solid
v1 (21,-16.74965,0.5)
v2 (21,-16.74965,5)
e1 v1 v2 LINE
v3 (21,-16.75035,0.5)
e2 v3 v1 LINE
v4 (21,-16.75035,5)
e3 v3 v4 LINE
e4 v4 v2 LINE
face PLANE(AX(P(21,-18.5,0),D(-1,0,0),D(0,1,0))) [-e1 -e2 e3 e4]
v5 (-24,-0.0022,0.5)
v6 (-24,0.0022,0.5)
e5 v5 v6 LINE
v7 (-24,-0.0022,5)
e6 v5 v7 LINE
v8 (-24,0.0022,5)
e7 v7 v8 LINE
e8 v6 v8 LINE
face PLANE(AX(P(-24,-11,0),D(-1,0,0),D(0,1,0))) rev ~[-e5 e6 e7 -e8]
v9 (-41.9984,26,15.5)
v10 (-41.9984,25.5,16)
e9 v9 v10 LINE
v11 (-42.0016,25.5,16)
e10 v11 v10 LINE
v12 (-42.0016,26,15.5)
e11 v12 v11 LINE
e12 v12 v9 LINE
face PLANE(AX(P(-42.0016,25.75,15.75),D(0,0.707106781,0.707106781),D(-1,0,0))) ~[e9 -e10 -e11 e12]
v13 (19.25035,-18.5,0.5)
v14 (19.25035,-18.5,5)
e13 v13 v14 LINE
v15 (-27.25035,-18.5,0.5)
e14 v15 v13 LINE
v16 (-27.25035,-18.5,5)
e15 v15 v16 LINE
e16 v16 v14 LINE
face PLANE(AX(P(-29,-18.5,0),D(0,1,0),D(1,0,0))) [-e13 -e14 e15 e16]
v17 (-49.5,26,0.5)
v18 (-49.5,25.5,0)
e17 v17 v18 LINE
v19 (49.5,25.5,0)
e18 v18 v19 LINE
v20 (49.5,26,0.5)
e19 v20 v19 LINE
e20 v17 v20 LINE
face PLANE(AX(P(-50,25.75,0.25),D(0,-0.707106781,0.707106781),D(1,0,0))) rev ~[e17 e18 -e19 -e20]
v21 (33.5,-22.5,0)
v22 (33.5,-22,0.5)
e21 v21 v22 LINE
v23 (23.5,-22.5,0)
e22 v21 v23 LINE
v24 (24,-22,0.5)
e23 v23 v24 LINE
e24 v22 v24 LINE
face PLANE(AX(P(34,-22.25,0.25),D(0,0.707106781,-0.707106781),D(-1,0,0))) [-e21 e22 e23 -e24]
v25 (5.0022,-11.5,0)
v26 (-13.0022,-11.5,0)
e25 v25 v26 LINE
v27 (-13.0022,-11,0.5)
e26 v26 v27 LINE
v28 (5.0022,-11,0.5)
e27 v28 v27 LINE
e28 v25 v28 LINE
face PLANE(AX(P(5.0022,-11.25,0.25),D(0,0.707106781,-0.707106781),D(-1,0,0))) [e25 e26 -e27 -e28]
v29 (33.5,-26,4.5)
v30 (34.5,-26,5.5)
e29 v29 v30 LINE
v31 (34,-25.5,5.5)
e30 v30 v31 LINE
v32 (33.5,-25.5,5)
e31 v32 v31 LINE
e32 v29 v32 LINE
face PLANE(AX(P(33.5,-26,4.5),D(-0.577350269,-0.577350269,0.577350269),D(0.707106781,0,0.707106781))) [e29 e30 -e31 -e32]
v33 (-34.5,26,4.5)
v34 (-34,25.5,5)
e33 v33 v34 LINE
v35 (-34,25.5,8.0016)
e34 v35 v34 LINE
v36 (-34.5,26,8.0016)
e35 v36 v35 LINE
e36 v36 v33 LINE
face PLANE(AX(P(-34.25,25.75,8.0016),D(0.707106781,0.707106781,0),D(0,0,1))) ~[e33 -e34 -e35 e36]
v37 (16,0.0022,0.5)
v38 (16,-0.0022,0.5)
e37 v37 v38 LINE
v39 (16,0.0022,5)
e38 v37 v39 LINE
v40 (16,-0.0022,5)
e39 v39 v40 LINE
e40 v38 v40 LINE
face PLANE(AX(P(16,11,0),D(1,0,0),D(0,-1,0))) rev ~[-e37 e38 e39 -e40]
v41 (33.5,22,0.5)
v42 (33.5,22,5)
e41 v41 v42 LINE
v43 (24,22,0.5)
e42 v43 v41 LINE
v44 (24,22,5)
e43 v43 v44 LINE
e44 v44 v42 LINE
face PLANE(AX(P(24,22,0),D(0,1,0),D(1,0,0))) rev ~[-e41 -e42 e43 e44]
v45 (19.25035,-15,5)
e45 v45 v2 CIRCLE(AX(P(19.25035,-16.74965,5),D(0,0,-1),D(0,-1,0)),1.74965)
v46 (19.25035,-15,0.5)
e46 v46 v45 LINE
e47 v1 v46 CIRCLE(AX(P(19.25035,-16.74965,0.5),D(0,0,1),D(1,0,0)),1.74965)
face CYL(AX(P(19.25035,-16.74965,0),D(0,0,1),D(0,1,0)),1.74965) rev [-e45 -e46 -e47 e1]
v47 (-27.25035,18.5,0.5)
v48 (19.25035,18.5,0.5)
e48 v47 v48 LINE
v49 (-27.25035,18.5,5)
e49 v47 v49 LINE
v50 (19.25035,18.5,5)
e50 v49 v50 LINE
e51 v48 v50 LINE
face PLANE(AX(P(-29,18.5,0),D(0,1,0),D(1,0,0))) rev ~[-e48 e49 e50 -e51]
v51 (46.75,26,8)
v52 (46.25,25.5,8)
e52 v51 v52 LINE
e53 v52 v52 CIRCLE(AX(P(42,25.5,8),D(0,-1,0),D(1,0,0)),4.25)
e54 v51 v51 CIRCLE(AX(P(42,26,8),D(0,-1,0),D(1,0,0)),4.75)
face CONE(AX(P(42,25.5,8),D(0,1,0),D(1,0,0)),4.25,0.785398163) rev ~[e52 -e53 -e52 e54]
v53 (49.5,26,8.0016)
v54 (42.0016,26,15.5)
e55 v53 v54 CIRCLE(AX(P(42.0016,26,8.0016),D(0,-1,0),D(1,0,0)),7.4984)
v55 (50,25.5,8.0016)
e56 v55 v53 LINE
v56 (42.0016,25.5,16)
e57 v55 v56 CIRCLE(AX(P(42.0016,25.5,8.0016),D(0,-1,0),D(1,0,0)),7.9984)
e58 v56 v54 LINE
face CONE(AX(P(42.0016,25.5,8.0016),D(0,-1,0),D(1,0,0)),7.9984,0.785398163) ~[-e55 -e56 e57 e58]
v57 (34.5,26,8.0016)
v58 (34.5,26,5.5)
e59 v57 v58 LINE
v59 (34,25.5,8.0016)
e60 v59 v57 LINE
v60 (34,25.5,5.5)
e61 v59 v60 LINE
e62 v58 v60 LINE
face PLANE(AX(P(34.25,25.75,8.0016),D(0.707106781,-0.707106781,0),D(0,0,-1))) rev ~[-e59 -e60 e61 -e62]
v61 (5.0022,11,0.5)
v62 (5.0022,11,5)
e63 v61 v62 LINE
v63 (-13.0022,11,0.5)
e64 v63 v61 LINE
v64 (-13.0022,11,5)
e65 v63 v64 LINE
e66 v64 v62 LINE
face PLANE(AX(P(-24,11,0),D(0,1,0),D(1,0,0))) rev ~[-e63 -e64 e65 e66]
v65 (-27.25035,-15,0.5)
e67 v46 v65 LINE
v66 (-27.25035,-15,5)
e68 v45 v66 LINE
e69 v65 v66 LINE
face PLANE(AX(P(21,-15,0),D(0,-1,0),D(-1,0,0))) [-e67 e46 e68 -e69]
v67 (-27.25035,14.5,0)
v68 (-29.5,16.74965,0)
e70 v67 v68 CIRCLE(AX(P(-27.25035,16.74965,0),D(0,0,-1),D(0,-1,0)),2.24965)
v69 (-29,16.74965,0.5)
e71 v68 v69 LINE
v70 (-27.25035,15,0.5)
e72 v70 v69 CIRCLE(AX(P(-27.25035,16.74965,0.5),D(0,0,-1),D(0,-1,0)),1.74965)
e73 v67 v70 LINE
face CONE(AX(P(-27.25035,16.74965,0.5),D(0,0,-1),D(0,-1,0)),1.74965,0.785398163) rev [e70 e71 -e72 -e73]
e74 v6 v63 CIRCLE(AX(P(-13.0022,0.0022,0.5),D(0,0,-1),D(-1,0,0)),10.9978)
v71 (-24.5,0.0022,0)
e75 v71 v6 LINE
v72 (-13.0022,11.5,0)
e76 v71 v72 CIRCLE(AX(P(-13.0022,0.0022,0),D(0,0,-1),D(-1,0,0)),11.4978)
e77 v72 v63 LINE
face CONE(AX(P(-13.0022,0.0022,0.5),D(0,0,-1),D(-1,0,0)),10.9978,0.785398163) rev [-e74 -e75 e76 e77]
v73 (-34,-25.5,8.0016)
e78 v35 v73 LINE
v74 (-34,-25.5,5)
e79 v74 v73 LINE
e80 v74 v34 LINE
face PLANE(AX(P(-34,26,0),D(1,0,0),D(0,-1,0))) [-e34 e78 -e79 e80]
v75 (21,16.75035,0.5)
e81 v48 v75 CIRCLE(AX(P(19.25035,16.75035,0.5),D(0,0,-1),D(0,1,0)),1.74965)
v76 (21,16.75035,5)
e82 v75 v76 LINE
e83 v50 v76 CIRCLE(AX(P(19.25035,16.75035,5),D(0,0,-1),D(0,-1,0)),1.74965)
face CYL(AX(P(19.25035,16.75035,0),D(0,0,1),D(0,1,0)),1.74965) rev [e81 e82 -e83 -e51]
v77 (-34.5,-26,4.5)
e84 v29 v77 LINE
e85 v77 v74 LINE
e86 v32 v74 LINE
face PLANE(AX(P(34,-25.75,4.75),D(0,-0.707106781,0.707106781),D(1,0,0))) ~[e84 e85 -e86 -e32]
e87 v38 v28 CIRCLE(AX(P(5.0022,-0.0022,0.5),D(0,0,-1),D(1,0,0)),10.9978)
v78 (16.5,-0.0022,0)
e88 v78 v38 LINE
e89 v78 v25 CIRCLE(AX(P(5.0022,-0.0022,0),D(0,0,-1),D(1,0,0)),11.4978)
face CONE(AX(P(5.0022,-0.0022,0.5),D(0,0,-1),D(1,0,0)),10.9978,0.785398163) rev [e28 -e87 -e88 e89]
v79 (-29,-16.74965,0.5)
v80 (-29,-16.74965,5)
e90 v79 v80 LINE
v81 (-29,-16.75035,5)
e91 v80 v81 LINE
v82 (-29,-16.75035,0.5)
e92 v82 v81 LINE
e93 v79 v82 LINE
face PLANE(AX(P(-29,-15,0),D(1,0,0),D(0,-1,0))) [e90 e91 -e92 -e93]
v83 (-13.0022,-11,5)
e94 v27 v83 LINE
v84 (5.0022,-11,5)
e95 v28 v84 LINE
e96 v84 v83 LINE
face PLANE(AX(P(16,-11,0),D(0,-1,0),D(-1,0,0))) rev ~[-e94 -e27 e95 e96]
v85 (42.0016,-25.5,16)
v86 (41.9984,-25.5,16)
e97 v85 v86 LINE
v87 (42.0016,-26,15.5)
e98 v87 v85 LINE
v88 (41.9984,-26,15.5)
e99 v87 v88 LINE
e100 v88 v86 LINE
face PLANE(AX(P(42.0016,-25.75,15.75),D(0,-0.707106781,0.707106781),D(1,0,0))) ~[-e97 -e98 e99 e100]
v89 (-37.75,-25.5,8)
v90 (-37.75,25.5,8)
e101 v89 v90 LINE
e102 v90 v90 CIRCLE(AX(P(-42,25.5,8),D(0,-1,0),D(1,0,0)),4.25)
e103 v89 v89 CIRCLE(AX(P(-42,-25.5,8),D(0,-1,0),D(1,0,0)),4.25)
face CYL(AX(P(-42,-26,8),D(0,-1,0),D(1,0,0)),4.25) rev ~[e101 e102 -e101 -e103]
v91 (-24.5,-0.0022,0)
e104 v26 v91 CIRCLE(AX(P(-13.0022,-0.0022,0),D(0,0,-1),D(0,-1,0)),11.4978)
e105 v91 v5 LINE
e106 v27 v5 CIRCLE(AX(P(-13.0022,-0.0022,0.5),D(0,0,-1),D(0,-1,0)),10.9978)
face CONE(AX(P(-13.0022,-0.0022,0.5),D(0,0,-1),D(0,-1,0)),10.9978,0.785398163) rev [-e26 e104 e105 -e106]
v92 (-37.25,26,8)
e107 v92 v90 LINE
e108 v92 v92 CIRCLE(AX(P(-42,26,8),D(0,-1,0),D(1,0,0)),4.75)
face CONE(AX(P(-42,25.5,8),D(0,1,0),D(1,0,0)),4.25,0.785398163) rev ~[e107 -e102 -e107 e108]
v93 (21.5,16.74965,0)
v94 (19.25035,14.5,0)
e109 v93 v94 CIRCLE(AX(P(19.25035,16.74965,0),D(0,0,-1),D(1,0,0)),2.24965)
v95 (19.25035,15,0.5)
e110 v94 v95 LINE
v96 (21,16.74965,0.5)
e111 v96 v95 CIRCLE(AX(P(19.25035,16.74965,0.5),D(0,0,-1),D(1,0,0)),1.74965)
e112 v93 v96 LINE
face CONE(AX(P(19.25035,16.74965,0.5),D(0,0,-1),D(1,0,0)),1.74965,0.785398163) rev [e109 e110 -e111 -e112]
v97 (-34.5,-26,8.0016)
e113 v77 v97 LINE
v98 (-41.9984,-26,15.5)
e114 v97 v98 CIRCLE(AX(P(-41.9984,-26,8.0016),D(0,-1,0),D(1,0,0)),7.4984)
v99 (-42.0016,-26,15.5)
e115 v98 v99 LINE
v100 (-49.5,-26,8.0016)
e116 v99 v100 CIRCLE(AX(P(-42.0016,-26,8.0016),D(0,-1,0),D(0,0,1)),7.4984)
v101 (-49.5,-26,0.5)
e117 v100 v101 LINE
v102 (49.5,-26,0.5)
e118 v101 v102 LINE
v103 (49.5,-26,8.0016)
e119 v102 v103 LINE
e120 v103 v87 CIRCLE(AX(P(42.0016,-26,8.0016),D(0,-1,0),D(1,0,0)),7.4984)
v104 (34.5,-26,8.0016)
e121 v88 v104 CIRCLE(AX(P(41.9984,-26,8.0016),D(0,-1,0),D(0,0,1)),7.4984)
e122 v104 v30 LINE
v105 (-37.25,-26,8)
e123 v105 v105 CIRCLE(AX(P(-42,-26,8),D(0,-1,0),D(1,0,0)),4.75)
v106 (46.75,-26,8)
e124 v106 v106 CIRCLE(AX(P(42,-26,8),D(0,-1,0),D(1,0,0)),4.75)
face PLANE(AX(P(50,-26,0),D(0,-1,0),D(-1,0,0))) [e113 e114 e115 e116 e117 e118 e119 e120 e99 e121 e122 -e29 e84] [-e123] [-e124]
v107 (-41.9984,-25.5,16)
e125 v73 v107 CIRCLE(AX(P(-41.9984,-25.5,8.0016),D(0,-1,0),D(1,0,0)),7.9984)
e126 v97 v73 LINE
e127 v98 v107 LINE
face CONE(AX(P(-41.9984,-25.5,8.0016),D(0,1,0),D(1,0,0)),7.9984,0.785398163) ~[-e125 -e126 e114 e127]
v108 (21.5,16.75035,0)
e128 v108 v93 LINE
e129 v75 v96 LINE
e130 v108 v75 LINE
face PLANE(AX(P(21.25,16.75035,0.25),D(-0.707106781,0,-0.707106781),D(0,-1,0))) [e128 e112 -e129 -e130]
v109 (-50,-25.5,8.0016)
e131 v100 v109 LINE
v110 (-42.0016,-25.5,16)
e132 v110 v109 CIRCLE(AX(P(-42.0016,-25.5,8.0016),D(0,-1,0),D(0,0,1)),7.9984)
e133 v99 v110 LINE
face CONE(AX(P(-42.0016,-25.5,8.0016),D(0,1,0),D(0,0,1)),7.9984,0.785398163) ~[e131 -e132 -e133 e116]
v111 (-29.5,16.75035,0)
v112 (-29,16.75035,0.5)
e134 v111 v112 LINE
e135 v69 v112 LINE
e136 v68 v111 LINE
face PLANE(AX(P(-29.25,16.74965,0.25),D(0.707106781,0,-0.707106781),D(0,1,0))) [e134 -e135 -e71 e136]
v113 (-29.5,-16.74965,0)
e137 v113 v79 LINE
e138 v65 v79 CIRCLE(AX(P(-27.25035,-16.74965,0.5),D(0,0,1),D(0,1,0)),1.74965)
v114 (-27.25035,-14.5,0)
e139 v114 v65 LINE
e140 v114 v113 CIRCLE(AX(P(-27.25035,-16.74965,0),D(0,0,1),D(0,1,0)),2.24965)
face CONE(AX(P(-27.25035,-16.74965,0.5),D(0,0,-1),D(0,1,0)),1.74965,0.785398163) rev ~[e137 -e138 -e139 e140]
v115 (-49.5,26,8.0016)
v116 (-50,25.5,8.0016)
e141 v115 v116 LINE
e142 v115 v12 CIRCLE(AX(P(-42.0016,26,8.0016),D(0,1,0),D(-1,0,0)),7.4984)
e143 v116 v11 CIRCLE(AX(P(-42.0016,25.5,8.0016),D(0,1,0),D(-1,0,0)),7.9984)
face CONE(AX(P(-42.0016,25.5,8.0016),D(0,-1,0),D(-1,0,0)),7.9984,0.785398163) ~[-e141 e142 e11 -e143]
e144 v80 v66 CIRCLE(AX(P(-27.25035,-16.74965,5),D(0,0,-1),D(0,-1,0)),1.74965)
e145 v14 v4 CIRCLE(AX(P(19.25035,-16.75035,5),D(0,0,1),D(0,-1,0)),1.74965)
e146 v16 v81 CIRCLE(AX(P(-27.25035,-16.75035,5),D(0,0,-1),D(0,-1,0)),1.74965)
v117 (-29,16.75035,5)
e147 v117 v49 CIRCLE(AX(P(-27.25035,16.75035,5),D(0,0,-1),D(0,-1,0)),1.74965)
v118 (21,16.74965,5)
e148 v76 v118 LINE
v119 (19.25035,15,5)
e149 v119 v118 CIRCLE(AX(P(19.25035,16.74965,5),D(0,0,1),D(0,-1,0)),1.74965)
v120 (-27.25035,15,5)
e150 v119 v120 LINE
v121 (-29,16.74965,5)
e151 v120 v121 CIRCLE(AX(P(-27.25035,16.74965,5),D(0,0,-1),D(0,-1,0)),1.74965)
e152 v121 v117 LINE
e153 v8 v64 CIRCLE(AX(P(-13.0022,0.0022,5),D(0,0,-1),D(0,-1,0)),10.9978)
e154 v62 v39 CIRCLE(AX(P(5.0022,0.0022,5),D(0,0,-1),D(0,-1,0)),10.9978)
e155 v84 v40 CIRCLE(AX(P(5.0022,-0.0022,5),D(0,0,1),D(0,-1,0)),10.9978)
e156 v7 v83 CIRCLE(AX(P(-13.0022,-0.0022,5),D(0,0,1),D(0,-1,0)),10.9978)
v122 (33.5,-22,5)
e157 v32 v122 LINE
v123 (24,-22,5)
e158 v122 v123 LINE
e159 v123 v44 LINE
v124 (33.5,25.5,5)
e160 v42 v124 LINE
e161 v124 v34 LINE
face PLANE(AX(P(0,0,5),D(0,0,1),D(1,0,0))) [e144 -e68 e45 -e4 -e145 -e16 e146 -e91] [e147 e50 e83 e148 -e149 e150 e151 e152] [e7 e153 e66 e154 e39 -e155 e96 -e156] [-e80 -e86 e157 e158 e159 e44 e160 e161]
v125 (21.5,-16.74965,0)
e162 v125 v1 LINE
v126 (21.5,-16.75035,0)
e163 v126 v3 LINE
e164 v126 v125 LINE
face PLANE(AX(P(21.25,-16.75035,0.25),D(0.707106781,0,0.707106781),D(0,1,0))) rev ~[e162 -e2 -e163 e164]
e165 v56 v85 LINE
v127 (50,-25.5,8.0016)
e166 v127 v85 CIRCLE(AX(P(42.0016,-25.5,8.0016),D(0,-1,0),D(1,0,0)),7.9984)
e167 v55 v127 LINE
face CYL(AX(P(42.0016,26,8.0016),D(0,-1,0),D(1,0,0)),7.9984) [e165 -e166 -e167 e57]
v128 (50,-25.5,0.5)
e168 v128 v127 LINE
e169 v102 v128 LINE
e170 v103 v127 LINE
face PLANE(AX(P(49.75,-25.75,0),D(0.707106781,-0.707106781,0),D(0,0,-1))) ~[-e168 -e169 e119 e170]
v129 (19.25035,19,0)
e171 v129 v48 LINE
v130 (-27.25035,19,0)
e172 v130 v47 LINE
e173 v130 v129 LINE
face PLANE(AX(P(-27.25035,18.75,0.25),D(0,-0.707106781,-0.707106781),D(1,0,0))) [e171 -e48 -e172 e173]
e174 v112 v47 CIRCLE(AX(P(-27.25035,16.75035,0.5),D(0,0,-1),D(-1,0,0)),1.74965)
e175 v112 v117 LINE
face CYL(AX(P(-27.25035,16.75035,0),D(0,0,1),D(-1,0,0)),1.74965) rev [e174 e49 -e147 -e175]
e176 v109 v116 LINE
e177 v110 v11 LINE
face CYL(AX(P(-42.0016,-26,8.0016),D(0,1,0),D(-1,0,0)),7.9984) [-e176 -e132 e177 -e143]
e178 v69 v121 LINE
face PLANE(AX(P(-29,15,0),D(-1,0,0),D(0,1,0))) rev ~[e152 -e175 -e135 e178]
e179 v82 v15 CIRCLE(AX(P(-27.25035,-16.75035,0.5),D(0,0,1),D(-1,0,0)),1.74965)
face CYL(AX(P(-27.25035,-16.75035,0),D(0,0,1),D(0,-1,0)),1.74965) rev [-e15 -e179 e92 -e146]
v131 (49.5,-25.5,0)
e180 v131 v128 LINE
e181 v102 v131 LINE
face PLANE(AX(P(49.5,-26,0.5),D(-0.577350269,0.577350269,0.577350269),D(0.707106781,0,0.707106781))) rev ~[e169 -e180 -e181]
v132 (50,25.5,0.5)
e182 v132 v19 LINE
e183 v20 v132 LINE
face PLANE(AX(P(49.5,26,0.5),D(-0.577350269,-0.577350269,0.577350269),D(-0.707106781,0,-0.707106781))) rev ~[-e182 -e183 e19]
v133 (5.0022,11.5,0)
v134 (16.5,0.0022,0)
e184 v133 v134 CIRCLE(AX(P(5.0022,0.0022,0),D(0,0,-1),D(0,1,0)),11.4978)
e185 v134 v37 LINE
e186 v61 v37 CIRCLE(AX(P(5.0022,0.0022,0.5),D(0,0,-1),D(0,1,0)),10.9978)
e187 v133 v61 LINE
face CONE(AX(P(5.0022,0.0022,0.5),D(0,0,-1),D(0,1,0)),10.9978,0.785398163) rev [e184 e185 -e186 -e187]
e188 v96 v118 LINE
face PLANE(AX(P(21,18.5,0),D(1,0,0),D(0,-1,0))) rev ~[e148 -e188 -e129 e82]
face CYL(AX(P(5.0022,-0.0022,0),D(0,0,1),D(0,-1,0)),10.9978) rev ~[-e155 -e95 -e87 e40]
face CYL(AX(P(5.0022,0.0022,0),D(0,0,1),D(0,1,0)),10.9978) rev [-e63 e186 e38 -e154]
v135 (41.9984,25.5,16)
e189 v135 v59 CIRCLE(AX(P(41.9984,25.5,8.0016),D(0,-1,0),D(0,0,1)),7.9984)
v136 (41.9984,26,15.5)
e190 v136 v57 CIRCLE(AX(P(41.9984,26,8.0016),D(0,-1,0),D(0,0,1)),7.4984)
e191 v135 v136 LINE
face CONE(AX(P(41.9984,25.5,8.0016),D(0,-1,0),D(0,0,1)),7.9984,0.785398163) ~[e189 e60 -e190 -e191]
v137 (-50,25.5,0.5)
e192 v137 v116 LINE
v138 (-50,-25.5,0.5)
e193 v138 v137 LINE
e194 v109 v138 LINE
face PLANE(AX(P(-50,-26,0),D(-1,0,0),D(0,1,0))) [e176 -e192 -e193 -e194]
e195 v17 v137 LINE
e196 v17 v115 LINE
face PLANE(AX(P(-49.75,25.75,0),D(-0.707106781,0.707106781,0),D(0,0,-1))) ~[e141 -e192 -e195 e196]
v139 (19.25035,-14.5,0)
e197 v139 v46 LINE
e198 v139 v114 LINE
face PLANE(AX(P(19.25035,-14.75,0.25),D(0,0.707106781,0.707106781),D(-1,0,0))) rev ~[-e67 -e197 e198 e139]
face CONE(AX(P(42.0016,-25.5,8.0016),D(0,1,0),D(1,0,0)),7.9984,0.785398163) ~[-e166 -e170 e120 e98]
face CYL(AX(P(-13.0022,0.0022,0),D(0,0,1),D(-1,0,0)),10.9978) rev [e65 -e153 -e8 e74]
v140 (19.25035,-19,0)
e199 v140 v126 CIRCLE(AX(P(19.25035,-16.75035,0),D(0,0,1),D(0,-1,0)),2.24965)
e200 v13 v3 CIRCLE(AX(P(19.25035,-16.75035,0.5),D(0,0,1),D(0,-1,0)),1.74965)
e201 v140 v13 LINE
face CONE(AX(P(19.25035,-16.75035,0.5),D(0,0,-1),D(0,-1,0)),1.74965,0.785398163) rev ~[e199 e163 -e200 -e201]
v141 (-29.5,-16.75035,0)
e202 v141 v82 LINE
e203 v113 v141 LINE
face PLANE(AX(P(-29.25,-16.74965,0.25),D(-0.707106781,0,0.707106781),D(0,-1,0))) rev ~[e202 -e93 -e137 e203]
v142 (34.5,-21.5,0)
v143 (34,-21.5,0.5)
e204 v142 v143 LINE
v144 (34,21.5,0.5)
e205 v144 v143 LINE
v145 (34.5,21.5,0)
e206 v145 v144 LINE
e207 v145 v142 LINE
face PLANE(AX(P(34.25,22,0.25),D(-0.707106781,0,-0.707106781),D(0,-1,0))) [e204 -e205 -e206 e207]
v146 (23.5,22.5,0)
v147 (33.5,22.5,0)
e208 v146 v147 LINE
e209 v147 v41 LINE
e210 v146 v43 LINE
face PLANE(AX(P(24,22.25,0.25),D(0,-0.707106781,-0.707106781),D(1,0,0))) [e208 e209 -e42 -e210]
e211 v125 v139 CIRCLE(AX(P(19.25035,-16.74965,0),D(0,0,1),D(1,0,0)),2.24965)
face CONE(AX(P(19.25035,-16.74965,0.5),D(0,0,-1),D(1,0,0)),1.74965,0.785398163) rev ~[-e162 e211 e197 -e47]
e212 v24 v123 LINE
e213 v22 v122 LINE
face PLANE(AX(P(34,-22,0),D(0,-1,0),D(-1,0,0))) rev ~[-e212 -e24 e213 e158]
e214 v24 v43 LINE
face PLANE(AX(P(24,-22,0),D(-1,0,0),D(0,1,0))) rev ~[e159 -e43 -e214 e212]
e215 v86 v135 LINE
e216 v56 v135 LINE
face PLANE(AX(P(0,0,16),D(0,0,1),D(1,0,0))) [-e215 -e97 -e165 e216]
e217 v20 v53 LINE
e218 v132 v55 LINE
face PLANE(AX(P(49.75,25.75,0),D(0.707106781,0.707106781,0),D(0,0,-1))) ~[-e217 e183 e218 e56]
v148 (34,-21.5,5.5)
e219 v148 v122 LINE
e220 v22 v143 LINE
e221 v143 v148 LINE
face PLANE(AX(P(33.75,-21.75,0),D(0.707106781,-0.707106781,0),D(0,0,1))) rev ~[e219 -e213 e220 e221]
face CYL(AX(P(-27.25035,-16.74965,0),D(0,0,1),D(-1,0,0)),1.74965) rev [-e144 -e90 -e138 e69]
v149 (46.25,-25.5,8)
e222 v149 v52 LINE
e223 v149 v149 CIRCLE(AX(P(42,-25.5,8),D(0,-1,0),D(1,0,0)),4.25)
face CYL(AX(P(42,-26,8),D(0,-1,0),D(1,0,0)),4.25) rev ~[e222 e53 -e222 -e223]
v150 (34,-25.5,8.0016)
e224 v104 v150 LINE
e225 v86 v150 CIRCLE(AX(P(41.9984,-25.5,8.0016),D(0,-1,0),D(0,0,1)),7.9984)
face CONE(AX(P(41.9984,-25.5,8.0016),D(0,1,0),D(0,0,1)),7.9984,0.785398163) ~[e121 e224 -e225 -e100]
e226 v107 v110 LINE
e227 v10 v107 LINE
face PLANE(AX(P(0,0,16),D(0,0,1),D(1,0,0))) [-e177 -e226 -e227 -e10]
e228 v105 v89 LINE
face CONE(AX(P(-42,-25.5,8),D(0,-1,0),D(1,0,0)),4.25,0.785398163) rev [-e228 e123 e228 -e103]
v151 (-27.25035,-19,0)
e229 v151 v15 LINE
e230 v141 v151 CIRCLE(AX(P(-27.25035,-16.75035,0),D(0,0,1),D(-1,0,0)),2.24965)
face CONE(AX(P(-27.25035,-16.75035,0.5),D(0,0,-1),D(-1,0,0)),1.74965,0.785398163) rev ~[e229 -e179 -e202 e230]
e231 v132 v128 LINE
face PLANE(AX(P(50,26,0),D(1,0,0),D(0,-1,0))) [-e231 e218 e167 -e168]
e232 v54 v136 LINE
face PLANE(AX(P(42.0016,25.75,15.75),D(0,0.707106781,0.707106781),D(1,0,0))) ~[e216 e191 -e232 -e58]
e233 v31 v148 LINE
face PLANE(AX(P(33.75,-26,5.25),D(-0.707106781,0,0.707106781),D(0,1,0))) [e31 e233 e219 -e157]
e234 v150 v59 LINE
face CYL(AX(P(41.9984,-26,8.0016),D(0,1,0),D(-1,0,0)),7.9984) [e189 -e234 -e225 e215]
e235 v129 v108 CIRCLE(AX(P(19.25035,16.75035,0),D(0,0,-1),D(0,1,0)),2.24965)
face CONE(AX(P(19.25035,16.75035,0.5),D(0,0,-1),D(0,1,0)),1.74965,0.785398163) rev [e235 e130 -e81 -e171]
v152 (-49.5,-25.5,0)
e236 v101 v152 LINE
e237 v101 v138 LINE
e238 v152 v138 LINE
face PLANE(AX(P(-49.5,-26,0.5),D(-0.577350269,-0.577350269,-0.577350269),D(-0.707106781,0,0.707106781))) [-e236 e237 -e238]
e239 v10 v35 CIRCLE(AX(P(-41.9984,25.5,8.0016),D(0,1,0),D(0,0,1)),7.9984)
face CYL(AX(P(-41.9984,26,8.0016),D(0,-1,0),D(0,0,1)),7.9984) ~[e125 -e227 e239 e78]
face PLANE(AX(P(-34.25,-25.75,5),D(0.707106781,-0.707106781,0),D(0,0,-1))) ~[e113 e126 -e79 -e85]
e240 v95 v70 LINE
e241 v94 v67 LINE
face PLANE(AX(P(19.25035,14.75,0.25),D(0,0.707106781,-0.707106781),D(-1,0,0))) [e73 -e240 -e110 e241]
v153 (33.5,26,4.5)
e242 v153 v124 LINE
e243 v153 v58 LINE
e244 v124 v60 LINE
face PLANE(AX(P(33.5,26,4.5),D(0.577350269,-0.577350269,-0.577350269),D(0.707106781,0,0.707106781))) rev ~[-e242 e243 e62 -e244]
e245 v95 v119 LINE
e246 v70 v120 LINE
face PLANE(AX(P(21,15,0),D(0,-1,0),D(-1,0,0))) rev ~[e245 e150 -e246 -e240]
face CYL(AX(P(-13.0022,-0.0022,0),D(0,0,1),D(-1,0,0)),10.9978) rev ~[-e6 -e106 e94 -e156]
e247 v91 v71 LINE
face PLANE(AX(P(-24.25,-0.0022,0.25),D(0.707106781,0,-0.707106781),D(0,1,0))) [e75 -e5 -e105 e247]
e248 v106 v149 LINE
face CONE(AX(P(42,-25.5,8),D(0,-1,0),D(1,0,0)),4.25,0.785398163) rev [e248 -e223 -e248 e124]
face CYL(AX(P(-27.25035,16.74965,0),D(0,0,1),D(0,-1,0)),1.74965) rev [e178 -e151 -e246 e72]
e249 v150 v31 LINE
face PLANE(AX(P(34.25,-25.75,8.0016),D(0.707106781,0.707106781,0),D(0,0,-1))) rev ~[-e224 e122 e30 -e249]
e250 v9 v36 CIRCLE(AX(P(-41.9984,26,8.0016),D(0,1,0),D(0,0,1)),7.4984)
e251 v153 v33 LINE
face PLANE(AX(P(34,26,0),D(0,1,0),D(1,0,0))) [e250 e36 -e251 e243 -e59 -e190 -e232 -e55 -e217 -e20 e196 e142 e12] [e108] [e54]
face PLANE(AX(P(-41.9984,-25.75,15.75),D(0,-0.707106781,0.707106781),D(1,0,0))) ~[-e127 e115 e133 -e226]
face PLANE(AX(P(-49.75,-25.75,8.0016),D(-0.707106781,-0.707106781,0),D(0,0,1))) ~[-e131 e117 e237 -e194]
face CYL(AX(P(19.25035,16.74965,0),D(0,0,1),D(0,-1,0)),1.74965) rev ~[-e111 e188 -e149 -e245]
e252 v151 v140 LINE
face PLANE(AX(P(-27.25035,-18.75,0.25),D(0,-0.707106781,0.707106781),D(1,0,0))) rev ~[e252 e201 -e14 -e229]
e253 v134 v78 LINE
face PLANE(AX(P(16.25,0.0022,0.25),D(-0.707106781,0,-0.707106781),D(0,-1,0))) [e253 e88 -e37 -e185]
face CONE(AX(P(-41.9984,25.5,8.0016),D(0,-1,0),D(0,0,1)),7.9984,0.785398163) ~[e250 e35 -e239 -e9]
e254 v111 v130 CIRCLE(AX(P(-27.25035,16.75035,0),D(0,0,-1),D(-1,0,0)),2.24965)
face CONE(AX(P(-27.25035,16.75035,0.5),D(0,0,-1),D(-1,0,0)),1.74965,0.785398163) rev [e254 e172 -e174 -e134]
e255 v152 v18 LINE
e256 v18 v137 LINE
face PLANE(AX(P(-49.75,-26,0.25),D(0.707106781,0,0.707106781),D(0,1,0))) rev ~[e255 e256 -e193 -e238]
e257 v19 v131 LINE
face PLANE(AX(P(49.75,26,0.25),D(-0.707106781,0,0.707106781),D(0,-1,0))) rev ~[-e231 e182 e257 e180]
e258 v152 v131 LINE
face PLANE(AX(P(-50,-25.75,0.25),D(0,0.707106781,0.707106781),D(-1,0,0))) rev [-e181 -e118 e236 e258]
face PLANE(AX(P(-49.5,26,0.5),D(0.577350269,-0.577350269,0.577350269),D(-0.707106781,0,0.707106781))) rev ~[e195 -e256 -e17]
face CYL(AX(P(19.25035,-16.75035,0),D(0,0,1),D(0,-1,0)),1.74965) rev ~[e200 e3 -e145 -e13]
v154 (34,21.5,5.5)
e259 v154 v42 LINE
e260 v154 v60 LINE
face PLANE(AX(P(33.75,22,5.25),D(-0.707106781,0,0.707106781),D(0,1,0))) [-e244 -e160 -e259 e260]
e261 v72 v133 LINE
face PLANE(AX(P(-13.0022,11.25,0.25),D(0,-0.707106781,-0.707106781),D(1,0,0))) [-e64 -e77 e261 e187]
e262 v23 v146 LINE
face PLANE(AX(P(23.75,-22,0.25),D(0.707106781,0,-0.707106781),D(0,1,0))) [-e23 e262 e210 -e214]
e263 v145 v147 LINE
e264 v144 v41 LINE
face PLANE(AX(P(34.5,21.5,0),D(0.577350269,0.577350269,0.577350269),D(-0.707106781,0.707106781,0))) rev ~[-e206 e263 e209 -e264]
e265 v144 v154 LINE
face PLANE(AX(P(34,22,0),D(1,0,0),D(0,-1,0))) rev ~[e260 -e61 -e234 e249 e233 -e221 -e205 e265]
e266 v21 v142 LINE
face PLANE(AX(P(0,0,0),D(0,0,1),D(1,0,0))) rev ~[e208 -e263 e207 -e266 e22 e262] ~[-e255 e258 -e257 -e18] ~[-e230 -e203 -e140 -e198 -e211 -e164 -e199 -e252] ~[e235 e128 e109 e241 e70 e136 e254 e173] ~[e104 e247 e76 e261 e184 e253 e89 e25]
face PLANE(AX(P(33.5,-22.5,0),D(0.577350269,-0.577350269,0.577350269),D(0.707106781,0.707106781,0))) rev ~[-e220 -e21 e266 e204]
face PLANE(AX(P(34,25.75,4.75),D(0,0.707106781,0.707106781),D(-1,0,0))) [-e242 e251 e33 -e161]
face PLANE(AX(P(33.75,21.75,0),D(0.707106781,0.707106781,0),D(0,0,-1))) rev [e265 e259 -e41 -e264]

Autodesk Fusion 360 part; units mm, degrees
sketch "Sketch1" plane through (0, 0, 0) normal (0, 0, 1) x (1, 0, 0)
  line L0 (50, -26) -> (-50, -26)
  line L1 (-50, -26) -> (-50, 26)
  line L2 (-50, 26) -> (50, 26)
  line L3 (50, 26) -> (50, -26)
  line L4 (50, -26) -> (-50, 26) construction
  line L5 (-50, -26) -> (50, 26) construction
  line L6 (-34, 26) -> (-34, -26)
  line L7 (34, 26) -> (34, -26)
  line L8 (24, 22) -> (34, 22)
  line L9 (34, 22) -> (34, -22)
  line L10 (34, -22) -> (24, -22)
  line L11 (24, -22) -> (24, 22)
  line L12 (-24, 11) -> (16, 11)
  line L13 (16, 11) -> (16, -11)
  line L14 (16, -11) -> (-24, -11)
  line L15 (-24, -11) -> (-24, 11)
  line L16 (50, 0) -> (-34, 0) construction
  line L17 (-29, 18.5) -> (21, 18.5)
  line L18 (21, 18.5) -> (21, 15)
  line L19 (21, 15) -> (-29, 15)
  line L20 (-29, 15) -> (-29, 18.5)
  line L21 (-4, -11) -> (-4, 41) construction
  line L22 (-29, -18.5) -> (21, -18.5)
  line L23 (21, -15) -> (-29, -15)
  line L24 (-29, -15) -> (-29, -18.5)
  line L25 (21, -18.5) -> (21, -15)
  dimension "d15" = 52
  dimension "d16" = 16
  dimension "d17" = 16
  dimension "d18" = 10
  dimension "d19" = 44
  dimension "d22" = 100
  dimension "d23" = 10
  dimension "d24" = 40
  dimension "d25" = 22
  dimension "d26" = 11
  dimension "d27" = 3.5
  dimension "d28" = 4
  dimension "d29" = 50
extrude "Extrude1" add sketch "Sketch1" along normal blind 5 contours L0 L2 L3 L7 L9 | L0 L2 L6 L7 L8 L10 L11 | L0 L1 L2 L6
extrude "Extrude2" add sketch "Sketch1" along normal blind 16 contours L0 L2 L3 L7 L9 | L0 L1 L2 L6
fillet "Fillet1" radius 11 4 edges at (-24, -11, 2.5) (16, -11, 2.5) (16, 11, 2.5) (-24, 11, 2.5)
fillet "Fillet2" radius 8 4 edges at (-50, 0, 16) (-34, 0, 16) (34, 0, 16) (50, 0, 16)
fillet "Fillet3" radius 1.75 8 edges at (-29, 18.5, 2.5) (-29, -15, 2.5) (21, 18.5, 2.5) (21, -15, 2.5) (21, -18.5, 2.5) (21, 15, 2.5) (-29, -18.5, 2.5) (-29, 15, 2.5)
sketch "Sketch2" plane through (0, -26, 0) normal (0, -1, 0) x (1, 0, 0)
  arc A0 (50, 8) -> (34, 8) centre (42, 8) ccw
  line L0 (34, 8) -> (34, 5)
  line L1 (34, 5) -> (-34, 5)
  line L2 (-34, 5) -> (-34, 8)
  arc A1 (-34, 8) -> (-50, 8) centre (-42, 8) ccw
  line L3 (-50, 8) -> (-50, 0)
  line L4 (-50, 0) -> (50, 0)
  line L5 (50, 0) -> (50, 8)
  circle A2 centre (-42, 8) radius 4.25
  circle A3 centre (42, 8) radius 4.25
  dimension "d40" = 8.5
  dimension "d41" = 8.5
extrude "Extrude3" cut sketch "Sketch2" against normal blind 55 contours A2 | A3
chamfer "Chamfer1" distance 0.5 angle 45 18 edges at (-50, 0, 0) (50, 0, 0) (0, -26, 0) (-45.9624, -26, 9.5369) (38.0376, -26, 9.5369) (0, 26, 5) (0, -26, 5) (42, -26, 16) (50, -26, 4) (34, -26, 6.5) (-42, -26, 16) (-34, -26, 6.5) (-50, -26, 4) (50, 26, 4) (42, 26, 16) (34, 26, 6.5) (38.0376, 26, 6.4631) (-45.9624, 26, 6.4631) 5 faces at (50, -8.6667, 5.3344) (42.7619, -8.6667, 15.9638) (34, 7.3333, 1.6667) (-41.3333, 0.0007, 0) (-11.3333, 26, 1.6667)
equation "d26 = d25 / 2"
equation "d40 = draadstang"
equation "d41 = d40"
equation "draadstang = 8.5 mm"
